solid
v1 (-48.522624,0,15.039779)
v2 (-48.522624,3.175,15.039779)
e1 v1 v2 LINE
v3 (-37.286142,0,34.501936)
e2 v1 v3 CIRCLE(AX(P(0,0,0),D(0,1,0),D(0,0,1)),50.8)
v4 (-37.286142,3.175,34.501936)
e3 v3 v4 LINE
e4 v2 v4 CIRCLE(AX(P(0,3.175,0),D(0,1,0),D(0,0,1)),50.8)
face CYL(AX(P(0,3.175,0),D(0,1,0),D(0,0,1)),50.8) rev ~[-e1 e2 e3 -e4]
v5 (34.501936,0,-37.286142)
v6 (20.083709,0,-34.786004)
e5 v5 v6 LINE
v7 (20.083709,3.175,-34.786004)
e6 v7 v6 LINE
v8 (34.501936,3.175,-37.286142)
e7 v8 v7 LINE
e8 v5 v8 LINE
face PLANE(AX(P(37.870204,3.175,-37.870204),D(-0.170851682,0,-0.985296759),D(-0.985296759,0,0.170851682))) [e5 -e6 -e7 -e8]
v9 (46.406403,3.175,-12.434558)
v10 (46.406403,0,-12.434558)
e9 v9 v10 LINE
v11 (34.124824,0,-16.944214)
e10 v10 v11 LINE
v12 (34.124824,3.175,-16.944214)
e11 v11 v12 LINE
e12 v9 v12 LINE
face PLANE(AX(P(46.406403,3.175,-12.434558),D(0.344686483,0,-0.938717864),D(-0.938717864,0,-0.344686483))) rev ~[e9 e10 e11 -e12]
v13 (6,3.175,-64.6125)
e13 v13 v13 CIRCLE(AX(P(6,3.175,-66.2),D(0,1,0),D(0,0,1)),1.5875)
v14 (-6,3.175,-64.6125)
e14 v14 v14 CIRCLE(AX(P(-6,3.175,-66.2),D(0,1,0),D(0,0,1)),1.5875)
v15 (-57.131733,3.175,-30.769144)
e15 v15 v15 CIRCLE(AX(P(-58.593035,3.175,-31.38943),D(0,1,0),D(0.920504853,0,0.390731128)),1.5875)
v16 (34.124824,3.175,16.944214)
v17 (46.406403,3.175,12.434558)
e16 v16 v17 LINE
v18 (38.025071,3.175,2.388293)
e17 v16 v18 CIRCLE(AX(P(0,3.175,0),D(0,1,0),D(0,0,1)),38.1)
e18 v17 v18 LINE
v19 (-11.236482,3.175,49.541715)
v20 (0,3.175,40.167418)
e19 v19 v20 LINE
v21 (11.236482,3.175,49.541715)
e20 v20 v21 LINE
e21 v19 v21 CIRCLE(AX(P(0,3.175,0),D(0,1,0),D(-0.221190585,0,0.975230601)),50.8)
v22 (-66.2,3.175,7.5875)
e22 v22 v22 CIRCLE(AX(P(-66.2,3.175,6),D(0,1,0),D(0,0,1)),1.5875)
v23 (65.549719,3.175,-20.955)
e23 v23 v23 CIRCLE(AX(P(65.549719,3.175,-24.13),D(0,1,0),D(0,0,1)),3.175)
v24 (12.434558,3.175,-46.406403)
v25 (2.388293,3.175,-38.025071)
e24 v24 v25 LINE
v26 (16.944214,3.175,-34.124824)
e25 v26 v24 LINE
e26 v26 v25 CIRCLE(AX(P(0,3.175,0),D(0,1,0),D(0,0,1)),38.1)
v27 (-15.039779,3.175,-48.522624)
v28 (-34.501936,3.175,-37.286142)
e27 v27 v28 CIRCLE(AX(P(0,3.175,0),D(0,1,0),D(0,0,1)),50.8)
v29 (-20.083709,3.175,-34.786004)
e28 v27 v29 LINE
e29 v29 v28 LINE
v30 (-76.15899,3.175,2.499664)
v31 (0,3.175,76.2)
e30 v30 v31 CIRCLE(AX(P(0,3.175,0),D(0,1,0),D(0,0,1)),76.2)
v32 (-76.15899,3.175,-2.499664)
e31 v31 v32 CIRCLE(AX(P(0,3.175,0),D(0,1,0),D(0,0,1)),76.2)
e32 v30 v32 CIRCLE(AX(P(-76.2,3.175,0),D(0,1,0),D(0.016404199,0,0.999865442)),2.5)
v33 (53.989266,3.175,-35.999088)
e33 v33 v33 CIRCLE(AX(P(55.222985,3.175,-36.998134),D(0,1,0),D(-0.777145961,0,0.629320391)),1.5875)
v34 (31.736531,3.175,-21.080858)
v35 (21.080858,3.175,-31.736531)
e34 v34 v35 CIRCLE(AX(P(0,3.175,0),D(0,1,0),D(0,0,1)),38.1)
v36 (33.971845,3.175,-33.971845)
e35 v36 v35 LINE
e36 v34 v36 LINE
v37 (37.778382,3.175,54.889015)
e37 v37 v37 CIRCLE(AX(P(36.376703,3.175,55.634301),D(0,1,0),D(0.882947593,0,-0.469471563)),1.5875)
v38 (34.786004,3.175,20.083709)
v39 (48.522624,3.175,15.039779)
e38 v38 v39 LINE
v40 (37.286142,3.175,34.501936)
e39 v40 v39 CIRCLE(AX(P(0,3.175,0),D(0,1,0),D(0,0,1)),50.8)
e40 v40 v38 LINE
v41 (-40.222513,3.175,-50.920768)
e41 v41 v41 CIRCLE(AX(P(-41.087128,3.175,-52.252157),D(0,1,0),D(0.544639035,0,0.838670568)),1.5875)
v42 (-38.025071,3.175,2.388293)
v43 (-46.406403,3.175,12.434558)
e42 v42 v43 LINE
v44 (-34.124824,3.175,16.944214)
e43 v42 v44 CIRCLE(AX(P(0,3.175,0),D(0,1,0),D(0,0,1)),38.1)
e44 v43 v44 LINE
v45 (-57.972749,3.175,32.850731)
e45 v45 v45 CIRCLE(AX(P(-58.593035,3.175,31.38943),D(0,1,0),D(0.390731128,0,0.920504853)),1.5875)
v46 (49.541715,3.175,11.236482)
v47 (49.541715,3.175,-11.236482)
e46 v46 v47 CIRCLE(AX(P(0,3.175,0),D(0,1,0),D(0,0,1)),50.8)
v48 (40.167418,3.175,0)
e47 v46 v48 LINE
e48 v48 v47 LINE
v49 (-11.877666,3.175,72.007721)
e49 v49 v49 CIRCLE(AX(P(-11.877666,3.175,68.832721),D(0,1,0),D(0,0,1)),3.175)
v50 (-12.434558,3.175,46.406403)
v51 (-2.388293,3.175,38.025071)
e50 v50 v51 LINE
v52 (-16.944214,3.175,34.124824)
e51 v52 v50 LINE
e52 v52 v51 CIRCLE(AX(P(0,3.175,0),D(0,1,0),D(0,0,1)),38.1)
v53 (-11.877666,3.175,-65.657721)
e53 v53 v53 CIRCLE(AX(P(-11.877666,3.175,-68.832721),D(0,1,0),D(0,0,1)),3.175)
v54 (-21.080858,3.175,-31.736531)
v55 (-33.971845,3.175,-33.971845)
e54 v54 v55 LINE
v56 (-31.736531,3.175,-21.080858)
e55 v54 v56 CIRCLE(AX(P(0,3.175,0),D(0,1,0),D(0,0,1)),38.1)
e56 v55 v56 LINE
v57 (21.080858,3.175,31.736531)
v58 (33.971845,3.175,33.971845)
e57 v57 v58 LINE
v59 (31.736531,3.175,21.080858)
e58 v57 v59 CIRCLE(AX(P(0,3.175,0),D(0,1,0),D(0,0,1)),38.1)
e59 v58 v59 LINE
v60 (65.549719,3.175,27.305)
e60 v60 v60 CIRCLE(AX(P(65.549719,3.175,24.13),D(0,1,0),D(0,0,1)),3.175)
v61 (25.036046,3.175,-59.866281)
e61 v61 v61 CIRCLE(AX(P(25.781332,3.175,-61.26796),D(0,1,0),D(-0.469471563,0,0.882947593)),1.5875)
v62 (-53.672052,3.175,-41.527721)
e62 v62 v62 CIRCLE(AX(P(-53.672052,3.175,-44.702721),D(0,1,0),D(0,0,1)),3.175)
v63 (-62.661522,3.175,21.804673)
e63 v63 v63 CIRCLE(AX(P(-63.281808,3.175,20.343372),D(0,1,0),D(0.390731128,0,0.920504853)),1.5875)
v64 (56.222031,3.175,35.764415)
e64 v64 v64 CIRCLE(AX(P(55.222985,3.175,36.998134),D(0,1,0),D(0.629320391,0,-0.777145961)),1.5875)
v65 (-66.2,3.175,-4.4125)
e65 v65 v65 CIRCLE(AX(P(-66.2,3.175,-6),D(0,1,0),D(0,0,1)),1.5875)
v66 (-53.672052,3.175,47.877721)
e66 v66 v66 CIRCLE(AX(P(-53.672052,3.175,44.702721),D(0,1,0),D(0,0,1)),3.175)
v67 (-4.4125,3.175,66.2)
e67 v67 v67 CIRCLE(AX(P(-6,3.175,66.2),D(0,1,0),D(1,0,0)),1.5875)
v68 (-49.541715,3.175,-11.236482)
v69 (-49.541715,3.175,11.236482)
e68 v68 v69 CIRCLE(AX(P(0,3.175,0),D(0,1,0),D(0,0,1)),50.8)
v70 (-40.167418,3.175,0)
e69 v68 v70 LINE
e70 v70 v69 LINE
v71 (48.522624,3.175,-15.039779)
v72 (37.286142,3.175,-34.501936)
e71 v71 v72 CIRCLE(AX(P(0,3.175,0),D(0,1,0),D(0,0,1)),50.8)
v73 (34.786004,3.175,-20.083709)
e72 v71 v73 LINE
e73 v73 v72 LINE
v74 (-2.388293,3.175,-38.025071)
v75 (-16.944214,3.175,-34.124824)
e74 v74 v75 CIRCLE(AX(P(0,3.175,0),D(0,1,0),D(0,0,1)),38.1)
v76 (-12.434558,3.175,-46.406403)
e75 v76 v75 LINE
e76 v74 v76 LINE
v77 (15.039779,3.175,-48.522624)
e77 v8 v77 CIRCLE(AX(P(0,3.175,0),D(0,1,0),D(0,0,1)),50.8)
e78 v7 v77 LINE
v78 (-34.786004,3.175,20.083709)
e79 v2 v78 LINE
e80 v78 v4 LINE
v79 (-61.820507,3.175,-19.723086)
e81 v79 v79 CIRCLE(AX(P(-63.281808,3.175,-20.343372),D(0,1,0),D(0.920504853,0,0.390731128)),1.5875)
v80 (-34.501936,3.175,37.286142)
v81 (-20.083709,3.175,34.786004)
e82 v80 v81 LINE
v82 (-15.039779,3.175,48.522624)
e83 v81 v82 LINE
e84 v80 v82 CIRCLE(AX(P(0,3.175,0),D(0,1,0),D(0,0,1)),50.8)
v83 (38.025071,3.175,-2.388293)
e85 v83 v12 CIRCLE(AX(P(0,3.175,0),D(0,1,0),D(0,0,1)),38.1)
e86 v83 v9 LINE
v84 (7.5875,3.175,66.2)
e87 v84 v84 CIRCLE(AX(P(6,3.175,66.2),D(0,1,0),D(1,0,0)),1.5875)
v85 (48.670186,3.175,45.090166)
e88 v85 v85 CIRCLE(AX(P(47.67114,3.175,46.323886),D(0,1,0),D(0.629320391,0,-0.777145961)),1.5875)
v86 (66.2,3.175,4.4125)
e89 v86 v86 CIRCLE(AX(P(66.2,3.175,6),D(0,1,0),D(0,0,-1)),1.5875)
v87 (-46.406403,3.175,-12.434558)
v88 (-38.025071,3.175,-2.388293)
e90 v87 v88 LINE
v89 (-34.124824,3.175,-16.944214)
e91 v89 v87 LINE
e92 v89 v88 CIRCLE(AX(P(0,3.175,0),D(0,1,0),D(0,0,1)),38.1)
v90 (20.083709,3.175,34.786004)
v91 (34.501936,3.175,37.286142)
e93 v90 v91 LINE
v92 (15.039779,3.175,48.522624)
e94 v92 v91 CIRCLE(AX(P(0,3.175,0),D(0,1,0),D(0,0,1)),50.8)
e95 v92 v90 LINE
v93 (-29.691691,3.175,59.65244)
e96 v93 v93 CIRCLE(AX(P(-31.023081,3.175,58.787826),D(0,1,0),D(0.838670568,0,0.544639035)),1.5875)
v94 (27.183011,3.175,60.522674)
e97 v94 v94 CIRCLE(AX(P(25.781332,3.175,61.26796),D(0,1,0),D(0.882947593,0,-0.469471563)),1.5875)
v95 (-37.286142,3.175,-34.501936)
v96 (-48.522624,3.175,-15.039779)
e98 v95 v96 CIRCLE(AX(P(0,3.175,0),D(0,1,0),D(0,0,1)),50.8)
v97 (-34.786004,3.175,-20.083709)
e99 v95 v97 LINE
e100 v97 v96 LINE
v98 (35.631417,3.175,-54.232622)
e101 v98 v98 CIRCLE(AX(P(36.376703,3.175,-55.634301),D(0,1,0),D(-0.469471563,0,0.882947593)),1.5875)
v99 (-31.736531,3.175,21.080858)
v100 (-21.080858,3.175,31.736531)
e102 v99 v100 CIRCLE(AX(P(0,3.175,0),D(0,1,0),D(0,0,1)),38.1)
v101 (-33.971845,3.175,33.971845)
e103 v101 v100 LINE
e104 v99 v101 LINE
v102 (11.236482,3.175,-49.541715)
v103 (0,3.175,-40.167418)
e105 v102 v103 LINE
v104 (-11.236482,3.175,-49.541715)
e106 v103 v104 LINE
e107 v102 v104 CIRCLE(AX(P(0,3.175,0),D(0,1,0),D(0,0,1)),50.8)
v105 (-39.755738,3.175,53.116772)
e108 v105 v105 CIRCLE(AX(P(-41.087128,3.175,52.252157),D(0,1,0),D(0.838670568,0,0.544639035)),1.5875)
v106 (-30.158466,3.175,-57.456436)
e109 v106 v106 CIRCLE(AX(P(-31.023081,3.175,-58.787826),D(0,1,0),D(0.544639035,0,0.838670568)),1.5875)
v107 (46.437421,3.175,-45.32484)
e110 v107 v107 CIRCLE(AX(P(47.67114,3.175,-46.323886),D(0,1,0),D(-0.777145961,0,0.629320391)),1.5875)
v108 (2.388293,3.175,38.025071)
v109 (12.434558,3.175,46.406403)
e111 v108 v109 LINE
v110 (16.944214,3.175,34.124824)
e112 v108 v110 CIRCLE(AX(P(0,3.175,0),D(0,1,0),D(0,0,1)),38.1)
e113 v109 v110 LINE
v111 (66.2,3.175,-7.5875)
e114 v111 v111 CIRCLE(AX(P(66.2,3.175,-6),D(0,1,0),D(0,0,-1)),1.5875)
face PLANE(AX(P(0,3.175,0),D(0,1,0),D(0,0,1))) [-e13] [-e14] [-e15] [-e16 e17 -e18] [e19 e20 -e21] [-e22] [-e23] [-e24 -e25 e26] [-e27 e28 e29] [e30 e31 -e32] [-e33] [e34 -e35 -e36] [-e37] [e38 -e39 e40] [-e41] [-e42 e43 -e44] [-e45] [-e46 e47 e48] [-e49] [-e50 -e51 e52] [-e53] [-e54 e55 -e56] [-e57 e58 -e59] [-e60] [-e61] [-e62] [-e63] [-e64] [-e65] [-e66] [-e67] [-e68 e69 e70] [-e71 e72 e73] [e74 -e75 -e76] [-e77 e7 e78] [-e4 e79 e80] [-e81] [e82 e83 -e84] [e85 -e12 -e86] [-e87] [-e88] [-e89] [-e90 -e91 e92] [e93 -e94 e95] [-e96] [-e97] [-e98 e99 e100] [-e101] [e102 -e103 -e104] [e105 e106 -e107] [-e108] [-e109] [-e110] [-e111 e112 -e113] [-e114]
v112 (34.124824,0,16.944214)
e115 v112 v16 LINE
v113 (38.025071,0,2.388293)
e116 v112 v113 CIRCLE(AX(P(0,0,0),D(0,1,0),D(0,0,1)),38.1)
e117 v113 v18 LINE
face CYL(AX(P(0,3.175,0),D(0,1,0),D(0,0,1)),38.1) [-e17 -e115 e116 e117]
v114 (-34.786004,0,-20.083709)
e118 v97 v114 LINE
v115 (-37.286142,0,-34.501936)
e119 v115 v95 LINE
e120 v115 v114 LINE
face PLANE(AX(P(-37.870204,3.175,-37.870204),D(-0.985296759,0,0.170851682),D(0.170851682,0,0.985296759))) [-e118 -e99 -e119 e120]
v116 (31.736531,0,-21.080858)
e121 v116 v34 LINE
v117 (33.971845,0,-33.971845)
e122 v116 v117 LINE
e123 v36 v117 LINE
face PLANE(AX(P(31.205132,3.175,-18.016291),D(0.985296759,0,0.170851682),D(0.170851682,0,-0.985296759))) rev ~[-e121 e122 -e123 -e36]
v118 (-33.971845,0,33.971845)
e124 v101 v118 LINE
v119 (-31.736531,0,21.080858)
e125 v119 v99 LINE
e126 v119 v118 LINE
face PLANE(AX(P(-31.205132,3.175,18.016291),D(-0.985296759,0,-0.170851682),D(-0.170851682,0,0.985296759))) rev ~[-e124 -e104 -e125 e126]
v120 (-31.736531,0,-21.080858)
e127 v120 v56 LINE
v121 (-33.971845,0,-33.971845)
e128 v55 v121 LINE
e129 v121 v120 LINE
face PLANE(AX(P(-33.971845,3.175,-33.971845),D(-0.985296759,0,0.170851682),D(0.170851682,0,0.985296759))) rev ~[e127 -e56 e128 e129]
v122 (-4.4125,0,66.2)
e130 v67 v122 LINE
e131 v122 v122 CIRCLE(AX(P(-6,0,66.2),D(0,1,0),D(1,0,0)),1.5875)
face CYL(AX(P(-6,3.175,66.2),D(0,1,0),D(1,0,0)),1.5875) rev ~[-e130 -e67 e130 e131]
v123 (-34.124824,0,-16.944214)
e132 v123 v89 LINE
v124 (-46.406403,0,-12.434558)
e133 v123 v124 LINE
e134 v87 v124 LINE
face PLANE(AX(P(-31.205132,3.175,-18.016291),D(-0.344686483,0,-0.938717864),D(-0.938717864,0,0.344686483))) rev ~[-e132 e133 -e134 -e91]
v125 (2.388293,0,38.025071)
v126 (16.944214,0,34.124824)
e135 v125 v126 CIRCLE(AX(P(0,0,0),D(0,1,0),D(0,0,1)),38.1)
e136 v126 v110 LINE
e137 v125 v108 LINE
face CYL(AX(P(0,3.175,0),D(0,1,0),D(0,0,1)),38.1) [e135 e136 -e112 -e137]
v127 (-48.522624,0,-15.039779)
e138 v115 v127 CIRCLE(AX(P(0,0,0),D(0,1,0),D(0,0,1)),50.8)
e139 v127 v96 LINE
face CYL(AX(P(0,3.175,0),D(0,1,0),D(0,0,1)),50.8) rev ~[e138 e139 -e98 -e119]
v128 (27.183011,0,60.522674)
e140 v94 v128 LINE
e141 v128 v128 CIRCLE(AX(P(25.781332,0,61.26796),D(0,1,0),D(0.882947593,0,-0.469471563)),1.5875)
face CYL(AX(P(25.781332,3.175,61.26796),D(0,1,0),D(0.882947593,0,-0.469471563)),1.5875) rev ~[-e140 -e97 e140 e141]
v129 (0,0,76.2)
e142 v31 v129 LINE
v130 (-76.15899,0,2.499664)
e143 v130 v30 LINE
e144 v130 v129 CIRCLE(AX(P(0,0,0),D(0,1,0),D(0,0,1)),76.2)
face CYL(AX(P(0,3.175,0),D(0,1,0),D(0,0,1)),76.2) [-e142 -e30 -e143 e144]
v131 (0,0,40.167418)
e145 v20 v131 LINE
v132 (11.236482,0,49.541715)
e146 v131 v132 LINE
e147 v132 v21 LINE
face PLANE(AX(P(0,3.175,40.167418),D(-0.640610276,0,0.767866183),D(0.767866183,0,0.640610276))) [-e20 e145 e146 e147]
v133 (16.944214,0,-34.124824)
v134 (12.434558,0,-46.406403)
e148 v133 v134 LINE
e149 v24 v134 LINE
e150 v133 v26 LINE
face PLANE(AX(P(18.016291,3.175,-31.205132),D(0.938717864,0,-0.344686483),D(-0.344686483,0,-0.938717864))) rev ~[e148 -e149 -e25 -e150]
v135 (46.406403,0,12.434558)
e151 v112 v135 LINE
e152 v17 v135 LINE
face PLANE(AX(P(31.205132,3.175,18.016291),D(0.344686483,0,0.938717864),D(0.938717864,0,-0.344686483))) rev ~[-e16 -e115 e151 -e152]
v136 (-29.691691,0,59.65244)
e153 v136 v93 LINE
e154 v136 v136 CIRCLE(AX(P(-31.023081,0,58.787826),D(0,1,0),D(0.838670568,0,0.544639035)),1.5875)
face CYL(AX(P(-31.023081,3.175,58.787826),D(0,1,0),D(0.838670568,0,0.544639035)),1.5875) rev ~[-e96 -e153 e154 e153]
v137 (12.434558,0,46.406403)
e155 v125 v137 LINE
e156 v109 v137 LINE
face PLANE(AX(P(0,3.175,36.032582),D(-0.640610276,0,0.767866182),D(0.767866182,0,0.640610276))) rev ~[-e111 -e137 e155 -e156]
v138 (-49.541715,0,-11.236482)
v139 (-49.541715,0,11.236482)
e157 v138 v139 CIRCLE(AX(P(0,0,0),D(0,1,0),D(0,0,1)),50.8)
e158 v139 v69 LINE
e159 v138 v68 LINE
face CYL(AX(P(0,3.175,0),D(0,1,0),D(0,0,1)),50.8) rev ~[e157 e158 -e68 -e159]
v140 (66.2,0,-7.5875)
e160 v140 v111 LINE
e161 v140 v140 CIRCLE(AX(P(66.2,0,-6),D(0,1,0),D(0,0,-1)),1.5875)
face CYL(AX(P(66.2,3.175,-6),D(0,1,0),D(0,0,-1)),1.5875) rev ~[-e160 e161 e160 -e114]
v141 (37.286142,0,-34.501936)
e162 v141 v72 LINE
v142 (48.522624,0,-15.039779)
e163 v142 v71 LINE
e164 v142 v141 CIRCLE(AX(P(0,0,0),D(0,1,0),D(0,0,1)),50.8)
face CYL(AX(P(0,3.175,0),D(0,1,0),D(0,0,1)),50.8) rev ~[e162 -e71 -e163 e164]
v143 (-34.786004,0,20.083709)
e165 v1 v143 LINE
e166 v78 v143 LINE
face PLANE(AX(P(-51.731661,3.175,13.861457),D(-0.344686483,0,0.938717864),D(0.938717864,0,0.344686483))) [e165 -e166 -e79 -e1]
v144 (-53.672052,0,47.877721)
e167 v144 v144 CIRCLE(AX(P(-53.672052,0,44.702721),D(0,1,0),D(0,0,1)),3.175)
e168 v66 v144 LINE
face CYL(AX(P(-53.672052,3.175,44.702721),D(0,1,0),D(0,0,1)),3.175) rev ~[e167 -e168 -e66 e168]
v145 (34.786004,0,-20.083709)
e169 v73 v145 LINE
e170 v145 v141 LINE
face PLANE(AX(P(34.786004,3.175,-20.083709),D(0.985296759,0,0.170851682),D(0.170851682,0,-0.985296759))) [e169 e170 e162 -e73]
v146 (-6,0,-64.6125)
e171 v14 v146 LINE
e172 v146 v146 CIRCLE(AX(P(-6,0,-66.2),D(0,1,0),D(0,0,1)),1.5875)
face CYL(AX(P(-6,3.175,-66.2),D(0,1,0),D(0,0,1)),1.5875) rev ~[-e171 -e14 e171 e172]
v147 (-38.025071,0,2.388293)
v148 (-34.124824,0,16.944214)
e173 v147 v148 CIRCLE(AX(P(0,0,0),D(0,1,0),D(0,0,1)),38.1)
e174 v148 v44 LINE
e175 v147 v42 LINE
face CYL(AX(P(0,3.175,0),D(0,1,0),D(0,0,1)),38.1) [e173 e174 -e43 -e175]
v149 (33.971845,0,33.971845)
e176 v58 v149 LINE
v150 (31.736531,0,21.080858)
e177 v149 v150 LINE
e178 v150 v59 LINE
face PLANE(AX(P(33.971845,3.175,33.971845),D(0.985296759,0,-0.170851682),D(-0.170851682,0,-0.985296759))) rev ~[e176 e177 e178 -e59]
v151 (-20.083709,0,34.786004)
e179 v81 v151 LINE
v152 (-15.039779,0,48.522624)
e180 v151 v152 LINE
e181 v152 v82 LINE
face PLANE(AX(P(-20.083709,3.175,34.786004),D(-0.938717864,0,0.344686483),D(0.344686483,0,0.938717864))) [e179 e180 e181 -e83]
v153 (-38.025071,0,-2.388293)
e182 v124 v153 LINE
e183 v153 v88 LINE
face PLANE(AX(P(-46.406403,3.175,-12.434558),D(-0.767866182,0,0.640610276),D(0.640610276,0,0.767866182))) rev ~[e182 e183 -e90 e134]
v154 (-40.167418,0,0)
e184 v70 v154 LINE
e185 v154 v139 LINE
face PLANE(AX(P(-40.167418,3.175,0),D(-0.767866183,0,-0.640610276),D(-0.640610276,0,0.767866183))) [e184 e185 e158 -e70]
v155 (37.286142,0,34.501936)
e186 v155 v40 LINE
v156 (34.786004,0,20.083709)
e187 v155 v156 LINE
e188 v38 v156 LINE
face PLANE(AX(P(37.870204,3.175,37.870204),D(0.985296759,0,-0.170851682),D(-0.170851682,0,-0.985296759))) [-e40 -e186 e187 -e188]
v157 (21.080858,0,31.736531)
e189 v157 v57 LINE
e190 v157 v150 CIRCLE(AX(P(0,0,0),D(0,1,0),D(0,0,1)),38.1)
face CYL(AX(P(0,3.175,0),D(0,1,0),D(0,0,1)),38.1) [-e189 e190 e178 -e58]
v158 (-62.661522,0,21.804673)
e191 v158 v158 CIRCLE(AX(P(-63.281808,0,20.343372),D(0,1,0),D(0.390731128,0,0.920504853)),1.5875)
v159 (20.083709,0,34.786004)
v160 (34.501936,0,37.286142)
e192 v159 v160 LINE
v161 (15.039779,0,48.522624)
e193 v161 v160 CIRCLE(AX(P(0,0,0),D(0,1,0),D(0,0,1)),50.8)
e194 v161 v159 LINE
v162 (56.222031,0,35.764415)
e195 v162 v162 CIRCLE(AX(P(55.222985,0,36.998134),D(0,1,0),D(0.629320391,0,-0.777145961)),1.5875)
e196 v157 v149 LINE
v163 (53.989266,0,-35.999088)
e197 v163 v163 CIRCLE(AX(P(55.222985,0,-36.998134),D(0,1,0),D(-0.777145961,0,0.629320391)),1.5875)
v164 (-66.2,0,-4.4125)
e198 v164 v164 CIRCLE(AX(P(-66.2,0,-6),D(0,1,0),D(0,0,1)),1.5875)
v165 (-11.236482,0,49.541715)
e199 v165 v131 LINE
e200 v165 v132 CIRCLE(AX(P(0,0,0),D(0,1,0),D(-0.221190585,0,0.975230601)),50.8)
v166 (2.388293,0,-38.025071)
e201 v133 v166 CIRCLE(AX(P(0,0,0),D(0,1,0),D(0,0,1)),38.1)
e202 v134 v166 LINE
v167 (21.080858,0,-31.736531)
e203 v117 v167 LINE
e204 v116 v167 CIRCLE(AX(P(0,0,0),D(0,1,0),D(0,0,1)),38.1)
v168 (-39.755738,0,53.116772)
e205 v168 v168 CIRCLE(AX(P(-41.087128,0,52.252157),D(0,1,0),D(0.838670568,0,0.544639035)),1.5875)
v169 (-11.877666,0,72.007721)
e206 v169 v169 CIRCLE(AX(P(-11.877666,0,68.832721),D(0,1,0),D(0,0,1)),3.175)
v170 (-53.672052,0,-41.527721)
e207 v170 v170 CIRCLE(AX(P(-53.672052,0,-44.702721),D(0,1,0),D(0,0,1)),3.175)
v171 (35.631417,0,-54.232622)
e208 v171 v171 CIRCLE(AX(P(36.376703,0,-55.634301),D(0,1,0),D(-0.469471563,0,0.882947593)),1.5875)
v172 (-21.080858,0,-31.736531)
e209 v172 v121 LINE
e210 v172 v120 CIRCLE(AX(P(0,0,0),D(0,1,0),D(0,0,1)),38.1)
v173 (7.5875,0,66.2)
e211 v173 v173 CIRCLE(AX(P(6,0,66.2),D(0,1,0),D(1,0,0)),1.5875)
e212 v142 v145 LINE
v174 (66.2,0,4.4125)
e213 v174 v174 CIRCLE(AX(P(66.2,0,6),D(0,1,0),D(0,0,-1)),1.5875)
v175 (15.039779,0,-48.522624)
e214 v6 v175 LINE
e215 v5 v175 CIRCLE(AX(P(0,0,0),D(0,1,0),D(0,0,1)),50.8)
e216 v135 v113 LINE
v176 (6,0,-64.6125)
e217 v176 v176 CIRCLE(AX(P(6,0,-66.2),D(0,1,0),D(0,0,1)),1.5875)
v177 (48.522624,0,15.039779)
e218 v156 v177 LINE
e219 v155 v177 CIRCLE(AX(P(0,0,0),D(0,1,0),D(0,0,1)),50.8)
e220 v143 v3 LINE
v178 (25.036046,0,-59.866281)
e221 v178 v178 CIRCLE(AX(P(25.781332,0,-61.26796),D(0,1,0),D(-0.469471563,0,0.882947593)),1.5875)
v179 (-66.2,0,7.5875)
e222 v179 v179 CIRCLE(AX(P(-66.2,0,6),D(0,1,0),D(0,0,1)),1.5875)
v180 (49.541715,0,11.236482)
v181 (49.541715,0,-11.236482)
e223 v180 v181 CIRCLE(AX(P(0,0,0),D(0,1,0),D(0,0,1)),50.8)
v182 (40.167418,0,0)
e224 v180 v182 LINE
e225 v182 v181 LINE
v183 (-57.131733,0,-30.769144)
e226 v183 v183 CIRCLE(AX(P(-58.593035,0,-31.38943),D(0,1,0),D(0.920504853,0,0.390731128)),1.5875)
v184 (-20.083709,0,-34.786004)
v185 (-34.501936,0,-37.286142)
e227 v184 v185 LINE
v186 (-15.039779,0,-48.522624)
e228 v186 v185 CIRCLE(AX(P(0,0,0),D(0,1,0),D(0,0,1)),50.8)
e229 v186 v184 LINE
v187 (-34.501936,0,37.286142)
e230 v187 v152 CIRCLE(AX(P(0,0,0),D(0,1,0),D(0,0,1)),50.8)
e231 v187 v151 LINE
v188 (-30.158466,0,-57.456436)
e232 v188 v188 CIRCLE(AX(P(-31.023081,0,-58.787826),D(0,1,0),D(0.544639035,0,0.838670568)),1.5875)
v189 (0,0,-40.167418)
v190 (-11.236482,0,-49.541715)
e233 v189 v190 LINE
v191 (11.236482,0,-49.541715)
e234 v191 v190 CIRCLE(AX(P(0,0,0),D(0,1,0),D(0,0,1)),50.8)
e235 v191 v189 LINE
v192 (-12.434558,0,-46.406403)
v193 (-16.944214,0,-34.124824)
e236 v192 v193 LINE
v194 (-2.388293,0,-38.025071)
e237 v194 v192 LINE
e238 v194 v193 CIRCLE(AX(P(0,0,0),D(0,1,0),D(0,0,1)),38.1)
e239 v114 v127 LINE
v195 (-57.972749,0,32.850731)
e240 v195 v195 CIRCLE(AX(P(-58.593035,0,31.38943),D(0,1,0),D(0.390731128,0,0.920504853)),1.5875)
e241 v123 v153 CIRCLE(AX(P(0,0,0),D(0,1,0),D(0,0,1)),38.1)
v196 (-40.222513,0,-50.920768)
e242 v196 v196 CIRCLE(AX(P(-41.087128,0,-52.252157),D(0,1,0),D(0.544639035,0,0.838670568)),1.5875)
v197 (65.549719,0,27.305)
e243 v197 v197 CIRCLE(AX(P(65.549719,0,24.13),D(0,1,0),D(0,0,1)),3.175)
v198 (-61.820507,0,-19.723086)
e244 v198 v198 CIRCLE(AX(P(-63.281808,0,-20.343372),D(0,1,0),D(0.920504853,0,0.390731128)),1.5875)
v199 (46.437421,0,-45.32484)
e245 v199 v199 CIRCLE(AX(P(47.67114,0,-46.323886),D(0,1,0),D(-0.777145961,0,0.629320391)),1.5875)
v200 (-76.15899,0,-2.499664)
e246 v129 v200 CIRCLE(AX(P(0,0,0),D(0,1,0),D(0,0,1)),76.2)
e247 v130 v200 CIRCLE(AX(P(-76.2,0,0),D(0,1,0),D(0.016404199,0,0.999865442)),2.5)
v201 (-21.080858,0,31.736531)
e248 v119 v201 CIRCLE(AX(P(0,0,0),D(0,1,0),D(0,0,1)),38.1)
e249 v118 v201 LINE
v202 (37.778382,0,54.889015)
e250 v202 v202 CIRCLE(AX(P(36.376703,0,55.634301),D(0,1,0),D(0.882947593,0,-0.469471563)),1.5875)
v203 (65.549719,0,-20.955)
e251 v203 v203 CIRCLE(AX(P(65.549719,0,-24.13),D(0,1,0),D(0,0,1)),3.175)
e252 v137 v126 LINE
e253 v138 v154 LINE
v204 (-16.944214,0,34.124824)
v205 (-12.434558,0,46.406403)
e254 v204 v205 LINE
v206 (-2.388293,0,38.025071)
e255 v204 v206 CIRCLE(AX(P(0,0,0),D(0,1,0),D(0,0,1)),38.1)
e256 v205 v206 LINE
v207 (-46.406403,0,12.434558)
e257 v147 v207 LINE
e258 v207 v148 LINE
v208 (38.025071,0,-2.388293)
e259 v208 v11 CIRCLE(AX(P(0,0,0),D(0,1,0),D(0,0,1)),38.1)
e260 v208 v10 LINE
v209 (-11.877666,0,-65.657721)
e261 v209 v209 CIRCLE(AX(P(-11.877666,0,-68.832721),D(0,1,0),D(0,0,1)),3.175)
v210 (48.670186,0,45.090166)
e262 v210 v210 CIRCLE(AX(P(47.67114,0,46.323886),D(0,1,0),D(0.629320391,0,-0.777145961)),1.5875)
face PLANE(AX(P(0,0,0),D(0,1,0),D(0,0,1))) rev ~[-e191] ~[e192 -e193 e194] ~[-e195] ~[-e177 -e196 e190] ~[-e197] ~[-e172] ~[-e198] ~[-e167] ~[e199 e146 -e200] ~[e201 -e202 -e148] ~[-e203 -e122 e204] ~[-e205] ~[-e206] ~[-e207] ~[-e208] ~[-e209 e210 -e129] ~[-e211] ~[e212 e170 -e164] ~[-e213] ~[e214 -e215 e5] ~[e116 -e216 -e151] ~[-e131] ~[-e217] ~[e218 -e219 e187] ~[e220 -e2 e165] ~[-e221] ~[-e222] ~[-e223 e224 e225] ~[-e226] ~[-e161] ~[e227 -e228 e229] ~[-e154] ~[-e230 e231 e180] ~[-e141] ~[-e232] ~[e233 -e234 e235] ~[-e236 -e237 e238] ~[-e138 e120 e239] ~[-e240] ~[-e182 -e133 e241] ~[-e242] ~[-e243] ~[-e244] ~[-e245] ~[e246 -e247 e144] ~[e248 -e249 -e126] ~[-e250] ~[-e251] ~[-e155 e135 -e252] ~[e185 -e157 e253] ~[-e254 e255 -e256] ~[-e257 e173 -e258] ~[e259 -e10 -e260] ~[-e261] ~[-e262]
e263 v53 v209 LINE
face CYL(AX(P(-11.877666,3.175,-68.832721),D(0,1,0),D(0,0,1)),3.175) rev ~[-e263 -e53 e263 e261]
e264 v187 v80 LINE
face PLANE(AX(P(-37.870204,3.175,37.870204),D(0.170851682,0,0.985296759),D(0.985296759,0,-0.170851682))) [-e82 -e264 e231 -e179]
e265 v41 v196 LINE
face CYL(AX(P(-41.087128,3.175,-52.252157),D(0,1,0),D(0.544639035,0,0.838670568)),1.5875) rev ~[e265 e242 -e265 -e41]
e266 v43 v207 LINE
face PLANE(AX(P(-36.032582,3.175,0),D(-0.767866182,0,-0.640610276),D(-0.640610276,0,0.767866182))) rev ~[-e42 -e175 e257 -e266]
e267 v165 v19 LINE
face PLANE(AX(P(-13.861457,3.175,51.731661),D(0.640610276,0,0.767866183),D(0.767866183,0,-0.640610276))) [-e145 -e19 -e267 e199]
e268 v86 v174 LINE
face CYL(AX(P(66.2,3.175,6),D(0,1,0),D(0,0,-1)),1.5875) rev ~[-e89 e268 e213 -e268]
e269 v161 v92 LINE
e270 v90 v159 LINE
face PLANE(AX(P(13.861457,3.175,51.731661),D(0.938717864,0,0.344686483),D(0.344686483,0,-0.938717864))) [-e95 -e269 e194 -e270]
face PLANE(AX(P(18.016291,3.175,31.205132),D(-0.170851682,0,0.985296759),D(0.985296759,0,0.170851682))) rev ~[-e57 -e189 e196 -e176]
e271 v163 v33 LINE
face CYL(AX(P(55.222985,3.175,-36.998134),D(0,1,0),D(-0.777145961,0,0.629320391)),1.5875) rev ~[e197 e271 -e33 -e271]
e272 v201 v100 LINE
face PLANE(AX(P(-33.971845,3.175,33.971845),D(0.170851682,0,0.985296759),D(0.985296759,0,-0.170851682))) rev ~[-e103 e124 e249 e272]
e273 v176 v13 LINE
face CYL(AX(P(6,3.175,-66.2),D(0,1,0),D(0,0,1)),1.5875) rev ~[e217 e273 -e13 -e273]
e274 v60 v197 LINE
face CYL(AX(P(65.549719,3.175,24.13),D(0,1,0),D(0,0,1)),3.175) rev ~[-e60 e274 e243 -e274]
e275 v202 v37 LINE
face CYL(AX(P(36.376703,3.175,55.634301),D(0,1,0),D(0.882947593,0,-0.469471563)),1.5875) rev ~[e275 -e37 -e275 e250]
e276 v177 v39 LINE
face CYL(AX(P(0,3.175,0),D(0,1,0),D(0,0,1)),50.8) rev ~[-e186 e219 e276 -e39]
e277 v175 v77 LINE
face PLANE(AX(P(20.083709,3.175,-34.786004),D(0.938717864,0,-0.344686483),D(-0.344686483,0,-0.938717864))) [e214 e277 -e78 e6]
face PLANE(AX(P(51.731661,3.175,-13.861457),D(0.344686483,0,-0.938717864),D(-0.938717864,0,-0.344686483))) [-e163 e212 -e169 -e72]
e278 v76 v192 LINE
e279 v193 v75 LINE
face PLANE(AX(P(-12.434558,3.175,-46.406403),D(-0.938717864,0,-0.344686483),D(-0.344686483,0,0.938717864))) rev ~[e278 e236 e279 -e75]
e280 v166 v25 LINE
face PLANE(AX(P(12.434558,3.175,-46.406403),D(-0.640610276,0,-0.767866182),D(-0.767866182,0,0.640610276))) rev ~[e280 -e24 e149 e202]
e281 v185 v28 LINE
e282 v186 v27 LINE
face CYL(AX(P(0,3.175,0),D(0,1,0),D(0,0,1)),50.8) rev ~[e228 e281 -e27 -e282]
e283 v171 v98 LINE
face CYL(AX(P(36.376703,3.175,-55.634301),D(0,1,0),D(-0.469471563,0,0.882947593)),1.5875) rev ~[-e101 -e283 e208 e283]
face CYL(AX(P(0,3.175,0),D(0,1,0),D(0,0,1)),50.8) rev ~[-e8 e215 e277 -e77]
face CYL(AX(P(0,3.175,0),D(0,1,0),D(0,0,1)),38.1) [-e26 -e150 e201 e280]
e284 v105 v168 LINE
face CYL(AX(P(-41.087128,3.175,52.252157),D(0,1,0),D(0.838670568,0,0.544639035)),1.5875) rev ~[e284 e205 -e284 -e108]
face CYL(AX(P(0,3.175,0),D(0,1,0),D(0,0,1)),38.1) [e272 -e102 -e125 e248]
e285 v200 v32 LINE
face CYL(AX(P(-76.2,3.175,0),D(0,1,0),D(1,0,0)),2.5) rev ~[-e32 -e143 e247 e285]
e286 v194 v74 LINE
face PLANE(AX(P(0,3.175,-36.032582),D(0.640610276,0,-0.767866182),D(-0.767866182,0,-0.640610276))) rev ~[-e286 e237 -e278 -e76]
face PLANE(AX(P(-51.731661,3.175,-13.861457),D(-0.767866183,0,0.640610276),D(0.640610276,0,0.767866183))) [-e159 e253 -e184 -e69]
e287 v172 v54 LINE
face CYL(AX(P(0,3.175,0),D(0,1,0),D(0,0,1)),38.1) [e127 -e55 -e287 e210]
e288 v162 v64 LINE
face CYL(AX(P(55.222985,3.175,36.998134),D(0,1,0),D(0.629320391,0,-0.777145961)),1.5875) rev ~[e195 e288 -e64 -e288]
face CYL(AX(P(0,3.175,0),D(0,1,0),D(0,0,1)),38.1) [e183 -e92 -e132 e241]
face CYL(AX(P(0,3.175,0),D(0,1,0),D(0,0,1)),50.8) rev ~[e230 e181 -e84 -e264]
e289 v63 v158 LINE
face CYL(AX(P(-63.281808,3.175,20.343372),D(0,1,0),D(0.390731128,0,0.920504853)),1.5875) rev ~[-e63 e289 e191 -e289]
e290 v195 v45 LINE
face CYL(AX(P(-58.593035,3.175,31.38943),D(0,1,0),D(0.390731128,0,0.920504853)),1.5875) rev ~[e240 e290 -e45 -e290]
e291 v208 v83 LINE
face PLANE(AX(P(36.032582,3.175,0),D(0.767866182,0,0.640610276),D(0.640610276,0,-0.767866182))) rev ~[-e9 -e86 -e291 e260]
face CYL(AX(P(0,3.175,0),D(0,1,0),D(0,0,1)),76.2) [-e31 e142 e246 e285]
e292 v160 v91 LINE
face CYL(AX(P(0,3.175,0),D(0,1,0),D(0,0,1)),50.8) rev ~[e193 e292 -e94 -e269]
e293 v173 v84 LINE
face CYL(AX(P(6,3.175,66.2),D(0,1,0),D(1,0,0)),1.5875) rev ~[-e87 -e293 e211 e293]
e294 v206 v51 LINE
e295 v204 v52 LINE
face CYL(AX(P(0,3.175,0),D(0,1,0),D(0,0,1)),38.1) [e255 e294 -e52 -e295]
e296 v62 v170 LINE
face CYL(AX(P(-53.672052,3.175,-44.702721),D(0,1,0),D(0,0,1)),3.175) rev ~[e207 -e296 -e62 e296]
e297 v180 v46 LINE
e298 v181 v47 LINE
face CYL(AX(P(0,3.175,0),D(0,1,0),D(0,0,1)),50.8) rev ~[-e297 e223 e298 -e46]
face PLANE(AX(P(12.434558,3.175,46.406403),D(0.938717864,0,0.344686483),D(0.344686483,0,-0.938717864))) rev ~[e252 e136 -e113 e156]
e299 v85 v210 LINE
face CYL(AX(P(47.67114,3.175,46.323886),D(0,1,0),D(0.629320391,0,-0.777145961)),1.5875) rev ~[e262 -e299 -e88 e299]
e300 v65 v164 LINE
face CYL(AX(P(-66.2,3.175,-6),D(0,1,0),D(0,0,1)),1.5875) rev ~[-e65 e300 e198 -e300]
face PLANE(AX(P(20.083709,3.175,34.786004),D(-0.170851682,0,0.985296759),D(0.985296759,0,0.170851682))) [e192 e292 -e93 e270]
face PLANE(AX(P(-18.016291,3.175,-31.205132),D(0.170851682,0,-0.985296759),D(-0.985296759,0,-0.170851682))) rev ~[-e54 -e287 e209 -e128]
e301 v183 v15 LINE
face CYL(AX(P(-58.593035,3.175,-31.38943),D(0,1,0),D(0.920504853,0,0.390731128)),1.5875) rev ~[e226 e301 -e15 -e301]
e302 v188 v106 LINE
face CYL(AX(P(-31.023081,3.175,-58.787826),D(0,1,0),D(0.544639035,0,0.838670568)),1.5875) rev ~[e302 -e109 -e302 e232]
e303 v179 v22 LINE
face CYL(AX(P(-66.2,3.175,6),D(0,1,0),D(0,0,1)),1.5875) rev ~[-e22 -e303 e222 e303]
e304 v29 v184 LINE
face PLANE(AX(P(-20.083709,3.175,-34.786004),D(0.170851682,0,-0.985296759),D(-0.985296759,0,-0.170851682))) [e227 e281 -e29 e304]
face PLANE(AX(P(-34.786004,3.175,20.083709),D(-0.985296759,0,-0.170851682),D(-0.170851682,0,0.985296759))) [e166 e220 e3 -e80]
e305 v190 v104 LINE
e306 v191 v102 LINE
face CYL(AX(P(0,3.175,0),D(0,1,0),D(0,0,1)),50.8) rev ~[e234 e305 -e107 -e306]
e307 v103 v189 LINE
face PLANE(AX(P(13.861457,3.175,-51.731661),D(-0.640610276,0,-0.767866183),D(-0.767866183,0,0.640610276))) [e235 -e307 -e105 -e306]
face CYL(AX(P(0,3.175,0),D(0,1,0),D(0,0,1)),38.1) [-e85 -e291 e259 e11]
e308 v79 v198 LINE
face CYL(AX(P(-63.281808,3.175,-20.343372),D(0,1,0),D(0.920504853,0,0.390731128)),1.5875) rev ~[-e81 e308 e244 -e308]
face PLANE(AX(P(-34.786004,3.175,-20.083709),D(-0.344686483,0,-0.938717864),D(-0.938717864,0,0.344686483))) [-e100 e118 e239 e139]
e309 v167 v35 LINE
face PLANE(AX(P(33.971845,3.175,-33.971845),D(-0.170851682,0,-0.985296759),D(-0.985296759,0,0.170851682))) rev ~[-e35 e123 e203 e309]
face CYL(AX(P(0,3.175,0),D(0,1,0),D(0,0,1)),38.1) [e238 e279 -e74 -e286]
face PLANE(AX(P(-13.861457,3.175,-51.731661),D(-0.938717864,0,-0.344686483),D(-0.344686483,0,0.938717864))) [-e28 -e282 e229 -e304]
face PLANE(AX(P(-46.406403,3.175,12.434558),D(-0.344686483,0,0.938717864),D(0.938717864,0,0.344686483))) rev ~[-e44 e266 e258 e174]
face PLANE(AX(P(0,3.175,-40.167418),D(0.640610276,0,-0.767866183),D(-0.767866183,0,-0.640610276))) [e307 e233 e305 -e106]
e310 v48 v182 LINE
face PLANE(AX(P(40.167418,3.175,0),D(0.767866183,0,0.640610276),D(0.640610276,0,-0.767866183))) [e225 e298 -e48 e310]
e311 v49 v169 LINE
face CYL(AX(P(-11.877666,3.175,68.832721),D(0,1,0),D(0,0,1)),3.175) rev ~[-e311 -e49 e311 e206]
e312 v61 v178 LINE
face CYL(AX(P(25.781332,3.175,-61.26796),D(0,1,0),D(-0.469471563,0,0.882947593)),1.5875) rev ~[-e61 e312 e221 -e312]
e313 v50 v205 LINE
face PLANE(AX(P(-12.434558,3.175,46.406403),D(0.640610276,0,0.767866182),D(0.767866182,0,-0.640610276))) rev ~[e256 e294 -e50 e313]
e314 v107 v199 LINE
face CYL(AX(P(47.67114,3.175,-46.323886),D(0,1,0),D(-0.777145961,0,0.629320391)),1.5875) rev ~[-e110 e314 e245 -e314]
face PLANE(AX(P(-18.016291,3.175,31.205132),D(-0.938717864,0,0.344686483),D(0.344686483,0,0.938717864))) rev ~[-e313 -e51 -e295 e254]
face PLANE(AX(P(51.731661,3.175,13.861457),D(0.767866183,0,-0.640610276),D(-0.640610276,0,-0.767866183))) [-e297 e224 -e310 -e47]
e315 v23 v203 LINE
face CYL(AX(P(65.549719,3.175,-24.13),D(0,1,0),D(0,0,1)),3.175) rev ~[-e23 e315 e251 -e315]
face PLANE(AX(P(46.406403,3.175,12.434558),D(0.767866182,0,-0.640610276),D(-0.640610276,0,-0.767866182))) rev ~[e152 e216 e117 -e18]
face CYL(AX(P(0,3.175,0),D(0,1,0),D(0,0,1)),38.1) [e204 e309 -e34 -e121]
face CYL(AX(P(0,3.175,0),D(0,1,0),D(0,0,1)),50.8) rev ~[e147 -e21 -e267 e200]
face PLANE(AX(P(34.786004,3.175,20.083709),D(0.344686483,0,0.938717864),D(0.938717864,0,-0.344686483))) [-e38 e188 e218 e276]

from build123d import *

# Parameters (mm, degrees)
SKETCH2_R                = 88.9
BOSS_EXTRUDE1_DEPTH      = 3.175
SKETCH3_R                = 3.175
CUT_EXTRUDE1_DEPTH       = 3.175
SKETCH6_R                = 88.9
SKETCH6_R_2              = 76.2
CUT_EXTRUDE2_DEPTH       = 126.763669734
SKETCH7_R                = 1.5875
CUT_EXTRUDE3_DEPTH       = 108.809835474
SKETCH8_R                = 2.5
CUT_EXTRUDE4_DEPTH       = 108.809835474
CIRPATTERN1_COUNT        = 2
CIRPATTERN1_ANGLE        = 23
CIRPATTERN2_COUNT        = 2
CIRPATTERN2_ANGLE        = 57
CIRPATTERN3_COUNT        = 2
CIRPATTERN3_ANGLE        = 90
CIRPATTERN4_COUNT        = 2
CIRPATTERN6_COUNT        = 2
CIRPATTERN6_ANGLE        = 141
CIRPATTERN7_COUNT        = 2
CIRPATTERN7_ANGLE        = 118
MIRROR3_COPY_1_SKETCH_R  = 1.5875
MIRROR3_COPY_1_DEPTH     = 108.809835474
MIRROR3_COPY_2_SKETCH_R  = 1.5875
MIRROR3_COPY_2_DEPTH     = 108.809835474
MIRROR3_COPY_3_SKETCH_R  = 1.5875
MIRROR3_COPY_3_DEPTH     = 108.809835474
MIRROR3_COPY_4_SKETCH_R  = 1.5875
MIRROR3_COPY_4_DEPTH     = 108.809835474
MIRROR3_COPY_5_SKETCH_R  = 1.5875
MIRROR3_COPY_5_DEPTH     = 108.809835474
MIRROR3_COPY_6_SKETCH_R  = 1.5875
MIRROR3_COPY_6_DEPTH     = 108.809835474
MIRROR3_COPY_7_SKETCH_R  = 1.5875
MIRROR3_COPY_7_DEPTH     = 108.809835474
MIRROR3_COPY_8_SKETCH_R  = 1.5875
MIRROR3_COPY_8_DEPTH     = 108.809835474
MIRROR3_COPY_9_SKETCH_R  = 1.5875
MIRROR3_COPY_9_DEPTH     = 108.809835474
MIRROR3_COPY_10_SKETCH_R = 1.5875
MIRROR3_COPY_10_DEPTH    = 108.809835474
SKETCH11_R               = 50.8
SKETCH11_R_2             = 38.1
CUT_EXTRUDE6_DEPTH       = 108.809835474
EXTRUDE_THIN2_DEPTH      = 3.175


with BuildPart() as part:
    # Sketch2 → Boss-Extrude1 (new body)
    with BuildSketch(Plane(origin=(0, 0, 0), x_dir=(1, 0, 0), z_dir=(0, 1, 0))):
        with Locations(Location((0, 0, 0), (0, 0, 270))):
            Circle(SKETCH2_R)
    extrude(amount=BOSS_EXTRUDE1_DEPTH)

    # Sketch3 → Cut-Extrude1 (cut)
    with BuildSketch(Plane(origin=(0, 3.175, 0), x_dir=(1, 0, 0), z_dir=(0, 1, 0))):
        with Locations(Location((65.549718535, -24.13, 0), (0, 0, 270))):
            Circle(SKETCH3_R)
        with Locations(Location((65.549718535, 24.13, 0), (0, 0, 270))):
            Circle(SKETCH3_R)
        with Locations(Location((-53.672052261, 44.702721462, 0), (0, 0, 270))):
            Circle(SKETCH3_R)
        with Locations(Location((-11.877666274, 68.832721462, 0), (0, 0, 270))):
            Circle(SKETCH3_R)
        with Locations(Location((-11.877666274, -68.832721462, 0), (0, 0, 270))):
            Circle(SKETCH3_R)
        with Locations(Location((-53.672052261, -44.702721462, 0), (0, 0, 270))):
            Circle(SKETCH3_R)
    extrude(amount=-CUT_EXTRUDE1_DEPTH, mode=Mode.SUBTRACT)

    # Sketch6 → Cut-Extrude2 (cut, through all)
    with BuildSketch(Plane(origin=(0, 3.175, 0), x_dir=(1, 0, 0), z_dir=(0, 1, 0))):
        Circle(SKETCH6_R)
        with Locations(Location((0, 0, 0), (0, 0, 270))):
            Circle(SKETCH6_R_2, mode=Mode.SUBTRACT)
    extrude(amount=-CUT_EXTRUDE2_DEPTH, mode=Mode.SUBTRACT)

    # Sketch7 → Cut-Extrude3 (cut, symmetric)
    with BuildSketch(Plane(origin=(0, 3.175, 0), x_dir=(1, 0, 0), z_dir=(0, 1, 0))):
        with Locations(Location((-66.2, 6, 0), (0, 0, 270))):
            Circle(SKETCH7_R)
        with Locations(Location((-66.2, -6, 0), (0, 0, 270))):
            Circle(SKETCH7_R)
    cut_extrude3 = extrude(amount=CUT_EXTRUDE3_DEPTH, both=True, mode=Mode.SUBTRACT)

    # Sketch8 → Cut-Extrude4 (cut, through all)
    with BuildSketch(Plane(origin=(0, 3.175, 0), x_dir=(1, 0, 0), z_dir=(0, 1, 0))):
        with Locations((-76.2, 0)):
            Circle(SKETCH8_R)
    extrude(amount=-CUT_EXTRUDE4_DEPTH, mode=Mode.SUBTRACT)

    # CirPattern1: Cut-Extrude3 ×2 about axis
    cirpattern1_axis = Axis((0, 0, 0), (0, 1, 0))
    for i in range(1, CIRPATTERN1_COUNT):
        add(cut_extrude3.rotate(cirpattern1_axis, i * CIRPATTERN1_ANGLE / (CIRPATTERN1_COUNT - 1)), mode=Mode.SUBTRACT)

    # CirPattern2: Cut-Extrude3 ×2 about axis
    cirpattern2_axis = Axis((0, 0, 0), (0, 1, 0))
    for i in range(1, CIRPATTERN2_COUNT):
        add(cut_extrude3.rotate(cirpattern2_axis, i * CIRPATTERN2_ANGLE / (CIRPATTERN2_COUNT - 1)), mode=Mode.SUBTRACT)

    # CirPattern3: Cut-Extrude3 ×2 about axis
    cirpattern3_axis = Axis((0, 0, 0), (0, 1, 0))
    for i in range(1, CIRPATTERN3_COUNT):
        add(cut_extrude3.rotate(cirpattern3_axis, i * CIRPATTERN3_ANGLE / (CIRPATTERN3_COUNT - 1)), mode=Mode.SUBTRACT)

    # CirPattern4: Cut-Extrude3 ×2 about axis
    cirpattern4_axis = Axis((0, 0, 0), (0, 1, 0))
    for i in range(1, CIRPATTERN4_COUNT):
        add(cut_extrude3.rotate(cirpattern4_axis, i * 360 / CIRPATTERN4_COUNT), mode=Mode.SUBTRACT)

    # CirPattern6: Cut-Extrude3 ×2 about axis
    cirpattern6_axis = Axis((0, 0, 0), (0, 1, 0))
    for i in range(1, CIRPATTERN6_COUNT):
        add(cut_extrude3.rotate(cirpattern6_axis, i * CIRPATTERN6_ANGLE / (CIRPATTERN6_COUNT - 1)), mode=Mode.SUBTRACT)

    # CirPattern7: Cut-Extrude3 ×2 about axis
    cirpattern7_axis = Axis((0, 0, 0), (0, 1, 0))
    for i in range(1, CIRPATTERN7_COUNT):
        add(cut_extrude3.rotate(cirpattern7_axis, i * CIRPATTERN7_ANGLE / (CIRPATTERN7_COUNT - 1)), mode=Mode.SUBTRACT)

    # Mirror3 copy 1 sketch → Mirror3 copy 1 (cut, symmetric)
    with BuildSketch(Plane(origin=(0, 3.175, 0), x_dir=(0.9205048534524399, 0, 0.3907311284892746), z_dir=(0, 1, 0))):
        with Locations((-66.2, -6)):
            Circle(MIRROR3_COPY_1_SKETCH_R)
        with Locations((-66.2, 6)):
            Circle(MIRROR3_COPY_1_SKETCH_R)
    extrude(amount=MIRROR3_COPY_1_DEPTH, both=True, mode=Mode.SUBTRACT)

    # Mirror3 copy 2 sketch → Mirror3 copy 2 (cut, symmetric)
    with BuildSketch(Plane(origin=(0, 3.175, 0), x_dir=(1, 0, 0), z_dir=(0, 1, 0))):
        with Locations((-66.2, -6)):
            Circle(MIRROR3_COPY_2_SKETCH_R)
        with Locations((-66.2, 6)):
            Circle(MIRROR3_COPY_2_SKETCH_R)
    extrude(amount=MIRROR3_COPY_2_DEPTH, both=True, mode=Mode.SUBTRACT)

    # Mirror3 copy 3 sketch → Mirror3 copy 3 (cut, symmetric)
    with BuildSketch(Plane(origin=(0, 3.175, 0), x_dir=(0.5446390350150256, 0, 0.8386705679454249), z_dir=(0, 1, 0))):
        with Locations((-66.2, -6)):
            Circle(MIRROR3_COPY_3_SKETCH_R)
        with Locations((-66.2, 6)):
            Circle(MIRROR3_COPY_3_SKETCH_R)
    extrude(amount=MIRROR3_COPY_3_DEPTH, both=True, mode=Mode.SUBTRACT)

    # Mirror3 copy 4 sketch → Mirror3 copy 4 (cut, symmetric)
    with BuildSketch(Plane(origin=(0, 3.175, 0), x_dir=(1, 0, 0), z_dir=(0, 1, 0))):
        with Locations((-66.2, -6)):
            Circle(MIRROR3_COPY_4_SKETCH_R)
        with Locations((-66.2, 6)):
            Circle(MIRROR3_COPY_4_SKETCH_R)
    extrude(amount=MIRROR3_COPY_4_DEPTH, both=True, mode=Mode.SUBTRACT)

    # Mirror3 copy 5 sketch → Mirror3 copy 5 (cut, symmetric)
    with BuildSketch(Plane.ZX.offset(3.175)):
        with Locations((-66.2, -6)):
            Circle(MIRROR3_COPY_5_SKETCH_R)
        with Locations((-66.2, 6)):
            Circle(MIRROR3_COPY_5_SKETCH_R)
    extrude(amount=MIRROR3_COPY_5_DEPTH, both=True, mode=Mode.SUBTRACT)

    # Mirror3 copy 6 sketch → Mirror3 copy 6 (cut, symmetric)
    with BuildSketch(Plane(origin=(0, 3.175, 0), x_dir=(1, 0, 0), z_dir=(0, 1, 0))):
        with Locations((-66.2, -6)):
            Circle(MIRROR3_COPY_6_SKETCH_R)
        with Locations((-66.2, 6)):
            Circle(MIRROR3_COPY_6_SKETCH_R)
    extrude(amount=MIRROR3_COPY_6_DEPTH, both=True, mode=Mode.SUBTRACT)

    # Mirror3 copy 7 sketch → Mirror3 copy 7 (cut, symmetric)
    with BuildSketch(Plane(origin=(0, 3.175, 0), x_dir=(-0.7771459614569742, 0, 0.6293203910498333), z_dir=(0, 1, 0))):
        with Locations((-66.2, -6)):
            Circle(MIRROR3_COPY_7_SKETCH_R)
        with Locations((-66.2, 6)):
            Circle(MIRROR3_COPY_7_SKETCH_R)
    extrude(amount=MIRROR3_COPY_7_DEPTH, both=True, mode=Mode.SUBTRACT)

    # Mirror3 copy 8 sketch → Mirror3 copy 8 (cut, symmetric)
    with BuildSketch(Plane(origin=(0, 3.175, 0), x_dir=(1, 0, 0), z_dir=(0, 1, 0))):
        with Locations((-66.2, -6)):
            Circle(MIRROR3_COPY_8_SKETCH_R)
        with Locations((-66.2, 6)):
            Circle(MIRROR3_COPY_8_SKETCH_R)
    extrude(amount=MIRROR3_COPY_8_DEPTH, both=True, mode=Mode.SUBTRACT)

    # Mirror3 copy 9 sketch → Mirror3 copy 9 (cut, symmetric)
    with BuildSketch(Plane(origin=(0, 3.175, 0), x_dir=(-0.46947156278589486, 0, 0.8829475928589248), z_dir=(0, 1, 0))):
        with Locations((-66.2, -6)):
            Circle(MIRROR3_COPY_9_SKETCH_R)
        with Locations((-66.2, 6)):
            Circle(MIRROR3_COPY_9_SKETCH_R)
    extrude(amount=MIRROR3_COPY_9_DEPTH, both=True, mode=Mode.SUBTRACT)

    # Mirror3 copy 10 sketch → Mirror3 copy 10 (cut, symmetric)
    with BuildSketch(Plane(origin=(0, 3.175, 0), x_dir=(1, 0, 0), z_dir=(0, 1, 0))):
        with Locations((-66.2, -6)):
            Circle(MIRROR3_COPY_10_SKETCH_R)
        with Locations((-66.2, 6)):
            Circle(MIRROR3_COPY_10_SKETCH_R)
    extrude(amount=MIRROR3_COPY_10_DEPTH, both=True, mode=Mode.SUBTRACT)

    # Sketch11 → Cut-Extrude6 (cut, through all)
    with BuildSketch(Plane(origin=(0, 3.175, 0), x_dir=(1, 0, 0), z_dir=(0, 1, 0))):
        with Locations(Location((0, 0, 0), (0, 0, 270))):
            Circle(SKETCH11_R)
        with Locations(Location((0, 0, 0), (0, 0, 270))):
            Circle(SKETCH11_R_2, mode=Mode.SUBTRACT)
    extrude(amount=-CUT_EXTRUDE6_DEPTH, mode=Mode.SUBTRACT)


with BuildPart() as cut_extrude6_piece_1:
    # of the separate pieces the step leaves, piece 1, a body of its own (cut_extrude6_pieces)
    add(part.part.solids().sort_by_distance((-76.158989501, 0, 2.499663605))[0])



with BuildPart() as cut_extrude6_piece_2:
    # of the separate pieces the step leaves, piece 2, a body of its own (cut_extrude6_pieces)
    add(part.part.solids().sort_by_distance((0, 0, 38.1))[0])


with BuildPart() as cut_extrude6_piece_1_1:
    add(cut_extrude6_piece_1.part)

    add(cut_extrude6_piece_2.part)  # Extrude-Thin2 merges Cut-Extrude6 piece 2
    # Sketch12 → Extrude-Thin2 (add)
    with BuildSketch(Plane(origin=(0, 3.175, 0), x_dir=(1, 0, 0), z_dir=(0, 1, 0))):
        Polygon((-51.731661279, -13.861456863), (-34.786003978, -20.083708761), (-37.870204416, -37.870204416), (-20.083708761, -34.786003978), (-13.861456863, -51.731661279), (0, -40.167417522), (13.861456863, -51.731661279), (20.083708761, -34.786003978), (37.870204416, -37.870204416), (34.786003978, -20.083708761), (51.731661279, -13.861456863), (40.167417522, 0), (51.731661279, 13.861456863), (34.786003978, 20.083708761), (37.870204416, 37.870204416), (20.083708761, 34.786003978), (13.861456863, 51.731661279), (0, 40.167417522), (-13.861456863, 51.731661279), (-20.083708761, 34.786003978), (-37.870204416, 37.870204416), (-34.786003978, 20.083708761), (-51.731661279, 13.861456863), (-40.167417522, 0), align=None)
        Polygon((-46.406402672, -12.434558119), (-31.20513179, -18.016291239), (-33.971844552, -33.971844552), (-18.016291239, -31.20513179), (-12.434558119, -46.406402672), (0, -36.032582478), (12.434558119, -46.406402672), (18.016291239, -31.20513179), (33.971844552, -33.971844552), (31.20513179, -18.016291239), (46.406402672, -12.434558119), (36.032582478, 0), (46.406402672, 12.434558119), (31.20513179, 18.016291239), (33.971844552, 33.971844552), (18.016291239, 31.20513179), (12.434558119, 46.406402672), (0, 36.032582478), (-12.434558119, 46.406402672), (-18.016291239, 31.20513179), (-33.971844552, 33.971844552), (-31.20513179, 18.016291239), (-46.406402672, 12.434558119), (-36.032582478, 0), align=None, mode=Mode.SUBTRACT)
    extrude(amount=-EXTRUDE_THIN2_DEPTH)


solid = cut_extrude6_piece_1_1.part
